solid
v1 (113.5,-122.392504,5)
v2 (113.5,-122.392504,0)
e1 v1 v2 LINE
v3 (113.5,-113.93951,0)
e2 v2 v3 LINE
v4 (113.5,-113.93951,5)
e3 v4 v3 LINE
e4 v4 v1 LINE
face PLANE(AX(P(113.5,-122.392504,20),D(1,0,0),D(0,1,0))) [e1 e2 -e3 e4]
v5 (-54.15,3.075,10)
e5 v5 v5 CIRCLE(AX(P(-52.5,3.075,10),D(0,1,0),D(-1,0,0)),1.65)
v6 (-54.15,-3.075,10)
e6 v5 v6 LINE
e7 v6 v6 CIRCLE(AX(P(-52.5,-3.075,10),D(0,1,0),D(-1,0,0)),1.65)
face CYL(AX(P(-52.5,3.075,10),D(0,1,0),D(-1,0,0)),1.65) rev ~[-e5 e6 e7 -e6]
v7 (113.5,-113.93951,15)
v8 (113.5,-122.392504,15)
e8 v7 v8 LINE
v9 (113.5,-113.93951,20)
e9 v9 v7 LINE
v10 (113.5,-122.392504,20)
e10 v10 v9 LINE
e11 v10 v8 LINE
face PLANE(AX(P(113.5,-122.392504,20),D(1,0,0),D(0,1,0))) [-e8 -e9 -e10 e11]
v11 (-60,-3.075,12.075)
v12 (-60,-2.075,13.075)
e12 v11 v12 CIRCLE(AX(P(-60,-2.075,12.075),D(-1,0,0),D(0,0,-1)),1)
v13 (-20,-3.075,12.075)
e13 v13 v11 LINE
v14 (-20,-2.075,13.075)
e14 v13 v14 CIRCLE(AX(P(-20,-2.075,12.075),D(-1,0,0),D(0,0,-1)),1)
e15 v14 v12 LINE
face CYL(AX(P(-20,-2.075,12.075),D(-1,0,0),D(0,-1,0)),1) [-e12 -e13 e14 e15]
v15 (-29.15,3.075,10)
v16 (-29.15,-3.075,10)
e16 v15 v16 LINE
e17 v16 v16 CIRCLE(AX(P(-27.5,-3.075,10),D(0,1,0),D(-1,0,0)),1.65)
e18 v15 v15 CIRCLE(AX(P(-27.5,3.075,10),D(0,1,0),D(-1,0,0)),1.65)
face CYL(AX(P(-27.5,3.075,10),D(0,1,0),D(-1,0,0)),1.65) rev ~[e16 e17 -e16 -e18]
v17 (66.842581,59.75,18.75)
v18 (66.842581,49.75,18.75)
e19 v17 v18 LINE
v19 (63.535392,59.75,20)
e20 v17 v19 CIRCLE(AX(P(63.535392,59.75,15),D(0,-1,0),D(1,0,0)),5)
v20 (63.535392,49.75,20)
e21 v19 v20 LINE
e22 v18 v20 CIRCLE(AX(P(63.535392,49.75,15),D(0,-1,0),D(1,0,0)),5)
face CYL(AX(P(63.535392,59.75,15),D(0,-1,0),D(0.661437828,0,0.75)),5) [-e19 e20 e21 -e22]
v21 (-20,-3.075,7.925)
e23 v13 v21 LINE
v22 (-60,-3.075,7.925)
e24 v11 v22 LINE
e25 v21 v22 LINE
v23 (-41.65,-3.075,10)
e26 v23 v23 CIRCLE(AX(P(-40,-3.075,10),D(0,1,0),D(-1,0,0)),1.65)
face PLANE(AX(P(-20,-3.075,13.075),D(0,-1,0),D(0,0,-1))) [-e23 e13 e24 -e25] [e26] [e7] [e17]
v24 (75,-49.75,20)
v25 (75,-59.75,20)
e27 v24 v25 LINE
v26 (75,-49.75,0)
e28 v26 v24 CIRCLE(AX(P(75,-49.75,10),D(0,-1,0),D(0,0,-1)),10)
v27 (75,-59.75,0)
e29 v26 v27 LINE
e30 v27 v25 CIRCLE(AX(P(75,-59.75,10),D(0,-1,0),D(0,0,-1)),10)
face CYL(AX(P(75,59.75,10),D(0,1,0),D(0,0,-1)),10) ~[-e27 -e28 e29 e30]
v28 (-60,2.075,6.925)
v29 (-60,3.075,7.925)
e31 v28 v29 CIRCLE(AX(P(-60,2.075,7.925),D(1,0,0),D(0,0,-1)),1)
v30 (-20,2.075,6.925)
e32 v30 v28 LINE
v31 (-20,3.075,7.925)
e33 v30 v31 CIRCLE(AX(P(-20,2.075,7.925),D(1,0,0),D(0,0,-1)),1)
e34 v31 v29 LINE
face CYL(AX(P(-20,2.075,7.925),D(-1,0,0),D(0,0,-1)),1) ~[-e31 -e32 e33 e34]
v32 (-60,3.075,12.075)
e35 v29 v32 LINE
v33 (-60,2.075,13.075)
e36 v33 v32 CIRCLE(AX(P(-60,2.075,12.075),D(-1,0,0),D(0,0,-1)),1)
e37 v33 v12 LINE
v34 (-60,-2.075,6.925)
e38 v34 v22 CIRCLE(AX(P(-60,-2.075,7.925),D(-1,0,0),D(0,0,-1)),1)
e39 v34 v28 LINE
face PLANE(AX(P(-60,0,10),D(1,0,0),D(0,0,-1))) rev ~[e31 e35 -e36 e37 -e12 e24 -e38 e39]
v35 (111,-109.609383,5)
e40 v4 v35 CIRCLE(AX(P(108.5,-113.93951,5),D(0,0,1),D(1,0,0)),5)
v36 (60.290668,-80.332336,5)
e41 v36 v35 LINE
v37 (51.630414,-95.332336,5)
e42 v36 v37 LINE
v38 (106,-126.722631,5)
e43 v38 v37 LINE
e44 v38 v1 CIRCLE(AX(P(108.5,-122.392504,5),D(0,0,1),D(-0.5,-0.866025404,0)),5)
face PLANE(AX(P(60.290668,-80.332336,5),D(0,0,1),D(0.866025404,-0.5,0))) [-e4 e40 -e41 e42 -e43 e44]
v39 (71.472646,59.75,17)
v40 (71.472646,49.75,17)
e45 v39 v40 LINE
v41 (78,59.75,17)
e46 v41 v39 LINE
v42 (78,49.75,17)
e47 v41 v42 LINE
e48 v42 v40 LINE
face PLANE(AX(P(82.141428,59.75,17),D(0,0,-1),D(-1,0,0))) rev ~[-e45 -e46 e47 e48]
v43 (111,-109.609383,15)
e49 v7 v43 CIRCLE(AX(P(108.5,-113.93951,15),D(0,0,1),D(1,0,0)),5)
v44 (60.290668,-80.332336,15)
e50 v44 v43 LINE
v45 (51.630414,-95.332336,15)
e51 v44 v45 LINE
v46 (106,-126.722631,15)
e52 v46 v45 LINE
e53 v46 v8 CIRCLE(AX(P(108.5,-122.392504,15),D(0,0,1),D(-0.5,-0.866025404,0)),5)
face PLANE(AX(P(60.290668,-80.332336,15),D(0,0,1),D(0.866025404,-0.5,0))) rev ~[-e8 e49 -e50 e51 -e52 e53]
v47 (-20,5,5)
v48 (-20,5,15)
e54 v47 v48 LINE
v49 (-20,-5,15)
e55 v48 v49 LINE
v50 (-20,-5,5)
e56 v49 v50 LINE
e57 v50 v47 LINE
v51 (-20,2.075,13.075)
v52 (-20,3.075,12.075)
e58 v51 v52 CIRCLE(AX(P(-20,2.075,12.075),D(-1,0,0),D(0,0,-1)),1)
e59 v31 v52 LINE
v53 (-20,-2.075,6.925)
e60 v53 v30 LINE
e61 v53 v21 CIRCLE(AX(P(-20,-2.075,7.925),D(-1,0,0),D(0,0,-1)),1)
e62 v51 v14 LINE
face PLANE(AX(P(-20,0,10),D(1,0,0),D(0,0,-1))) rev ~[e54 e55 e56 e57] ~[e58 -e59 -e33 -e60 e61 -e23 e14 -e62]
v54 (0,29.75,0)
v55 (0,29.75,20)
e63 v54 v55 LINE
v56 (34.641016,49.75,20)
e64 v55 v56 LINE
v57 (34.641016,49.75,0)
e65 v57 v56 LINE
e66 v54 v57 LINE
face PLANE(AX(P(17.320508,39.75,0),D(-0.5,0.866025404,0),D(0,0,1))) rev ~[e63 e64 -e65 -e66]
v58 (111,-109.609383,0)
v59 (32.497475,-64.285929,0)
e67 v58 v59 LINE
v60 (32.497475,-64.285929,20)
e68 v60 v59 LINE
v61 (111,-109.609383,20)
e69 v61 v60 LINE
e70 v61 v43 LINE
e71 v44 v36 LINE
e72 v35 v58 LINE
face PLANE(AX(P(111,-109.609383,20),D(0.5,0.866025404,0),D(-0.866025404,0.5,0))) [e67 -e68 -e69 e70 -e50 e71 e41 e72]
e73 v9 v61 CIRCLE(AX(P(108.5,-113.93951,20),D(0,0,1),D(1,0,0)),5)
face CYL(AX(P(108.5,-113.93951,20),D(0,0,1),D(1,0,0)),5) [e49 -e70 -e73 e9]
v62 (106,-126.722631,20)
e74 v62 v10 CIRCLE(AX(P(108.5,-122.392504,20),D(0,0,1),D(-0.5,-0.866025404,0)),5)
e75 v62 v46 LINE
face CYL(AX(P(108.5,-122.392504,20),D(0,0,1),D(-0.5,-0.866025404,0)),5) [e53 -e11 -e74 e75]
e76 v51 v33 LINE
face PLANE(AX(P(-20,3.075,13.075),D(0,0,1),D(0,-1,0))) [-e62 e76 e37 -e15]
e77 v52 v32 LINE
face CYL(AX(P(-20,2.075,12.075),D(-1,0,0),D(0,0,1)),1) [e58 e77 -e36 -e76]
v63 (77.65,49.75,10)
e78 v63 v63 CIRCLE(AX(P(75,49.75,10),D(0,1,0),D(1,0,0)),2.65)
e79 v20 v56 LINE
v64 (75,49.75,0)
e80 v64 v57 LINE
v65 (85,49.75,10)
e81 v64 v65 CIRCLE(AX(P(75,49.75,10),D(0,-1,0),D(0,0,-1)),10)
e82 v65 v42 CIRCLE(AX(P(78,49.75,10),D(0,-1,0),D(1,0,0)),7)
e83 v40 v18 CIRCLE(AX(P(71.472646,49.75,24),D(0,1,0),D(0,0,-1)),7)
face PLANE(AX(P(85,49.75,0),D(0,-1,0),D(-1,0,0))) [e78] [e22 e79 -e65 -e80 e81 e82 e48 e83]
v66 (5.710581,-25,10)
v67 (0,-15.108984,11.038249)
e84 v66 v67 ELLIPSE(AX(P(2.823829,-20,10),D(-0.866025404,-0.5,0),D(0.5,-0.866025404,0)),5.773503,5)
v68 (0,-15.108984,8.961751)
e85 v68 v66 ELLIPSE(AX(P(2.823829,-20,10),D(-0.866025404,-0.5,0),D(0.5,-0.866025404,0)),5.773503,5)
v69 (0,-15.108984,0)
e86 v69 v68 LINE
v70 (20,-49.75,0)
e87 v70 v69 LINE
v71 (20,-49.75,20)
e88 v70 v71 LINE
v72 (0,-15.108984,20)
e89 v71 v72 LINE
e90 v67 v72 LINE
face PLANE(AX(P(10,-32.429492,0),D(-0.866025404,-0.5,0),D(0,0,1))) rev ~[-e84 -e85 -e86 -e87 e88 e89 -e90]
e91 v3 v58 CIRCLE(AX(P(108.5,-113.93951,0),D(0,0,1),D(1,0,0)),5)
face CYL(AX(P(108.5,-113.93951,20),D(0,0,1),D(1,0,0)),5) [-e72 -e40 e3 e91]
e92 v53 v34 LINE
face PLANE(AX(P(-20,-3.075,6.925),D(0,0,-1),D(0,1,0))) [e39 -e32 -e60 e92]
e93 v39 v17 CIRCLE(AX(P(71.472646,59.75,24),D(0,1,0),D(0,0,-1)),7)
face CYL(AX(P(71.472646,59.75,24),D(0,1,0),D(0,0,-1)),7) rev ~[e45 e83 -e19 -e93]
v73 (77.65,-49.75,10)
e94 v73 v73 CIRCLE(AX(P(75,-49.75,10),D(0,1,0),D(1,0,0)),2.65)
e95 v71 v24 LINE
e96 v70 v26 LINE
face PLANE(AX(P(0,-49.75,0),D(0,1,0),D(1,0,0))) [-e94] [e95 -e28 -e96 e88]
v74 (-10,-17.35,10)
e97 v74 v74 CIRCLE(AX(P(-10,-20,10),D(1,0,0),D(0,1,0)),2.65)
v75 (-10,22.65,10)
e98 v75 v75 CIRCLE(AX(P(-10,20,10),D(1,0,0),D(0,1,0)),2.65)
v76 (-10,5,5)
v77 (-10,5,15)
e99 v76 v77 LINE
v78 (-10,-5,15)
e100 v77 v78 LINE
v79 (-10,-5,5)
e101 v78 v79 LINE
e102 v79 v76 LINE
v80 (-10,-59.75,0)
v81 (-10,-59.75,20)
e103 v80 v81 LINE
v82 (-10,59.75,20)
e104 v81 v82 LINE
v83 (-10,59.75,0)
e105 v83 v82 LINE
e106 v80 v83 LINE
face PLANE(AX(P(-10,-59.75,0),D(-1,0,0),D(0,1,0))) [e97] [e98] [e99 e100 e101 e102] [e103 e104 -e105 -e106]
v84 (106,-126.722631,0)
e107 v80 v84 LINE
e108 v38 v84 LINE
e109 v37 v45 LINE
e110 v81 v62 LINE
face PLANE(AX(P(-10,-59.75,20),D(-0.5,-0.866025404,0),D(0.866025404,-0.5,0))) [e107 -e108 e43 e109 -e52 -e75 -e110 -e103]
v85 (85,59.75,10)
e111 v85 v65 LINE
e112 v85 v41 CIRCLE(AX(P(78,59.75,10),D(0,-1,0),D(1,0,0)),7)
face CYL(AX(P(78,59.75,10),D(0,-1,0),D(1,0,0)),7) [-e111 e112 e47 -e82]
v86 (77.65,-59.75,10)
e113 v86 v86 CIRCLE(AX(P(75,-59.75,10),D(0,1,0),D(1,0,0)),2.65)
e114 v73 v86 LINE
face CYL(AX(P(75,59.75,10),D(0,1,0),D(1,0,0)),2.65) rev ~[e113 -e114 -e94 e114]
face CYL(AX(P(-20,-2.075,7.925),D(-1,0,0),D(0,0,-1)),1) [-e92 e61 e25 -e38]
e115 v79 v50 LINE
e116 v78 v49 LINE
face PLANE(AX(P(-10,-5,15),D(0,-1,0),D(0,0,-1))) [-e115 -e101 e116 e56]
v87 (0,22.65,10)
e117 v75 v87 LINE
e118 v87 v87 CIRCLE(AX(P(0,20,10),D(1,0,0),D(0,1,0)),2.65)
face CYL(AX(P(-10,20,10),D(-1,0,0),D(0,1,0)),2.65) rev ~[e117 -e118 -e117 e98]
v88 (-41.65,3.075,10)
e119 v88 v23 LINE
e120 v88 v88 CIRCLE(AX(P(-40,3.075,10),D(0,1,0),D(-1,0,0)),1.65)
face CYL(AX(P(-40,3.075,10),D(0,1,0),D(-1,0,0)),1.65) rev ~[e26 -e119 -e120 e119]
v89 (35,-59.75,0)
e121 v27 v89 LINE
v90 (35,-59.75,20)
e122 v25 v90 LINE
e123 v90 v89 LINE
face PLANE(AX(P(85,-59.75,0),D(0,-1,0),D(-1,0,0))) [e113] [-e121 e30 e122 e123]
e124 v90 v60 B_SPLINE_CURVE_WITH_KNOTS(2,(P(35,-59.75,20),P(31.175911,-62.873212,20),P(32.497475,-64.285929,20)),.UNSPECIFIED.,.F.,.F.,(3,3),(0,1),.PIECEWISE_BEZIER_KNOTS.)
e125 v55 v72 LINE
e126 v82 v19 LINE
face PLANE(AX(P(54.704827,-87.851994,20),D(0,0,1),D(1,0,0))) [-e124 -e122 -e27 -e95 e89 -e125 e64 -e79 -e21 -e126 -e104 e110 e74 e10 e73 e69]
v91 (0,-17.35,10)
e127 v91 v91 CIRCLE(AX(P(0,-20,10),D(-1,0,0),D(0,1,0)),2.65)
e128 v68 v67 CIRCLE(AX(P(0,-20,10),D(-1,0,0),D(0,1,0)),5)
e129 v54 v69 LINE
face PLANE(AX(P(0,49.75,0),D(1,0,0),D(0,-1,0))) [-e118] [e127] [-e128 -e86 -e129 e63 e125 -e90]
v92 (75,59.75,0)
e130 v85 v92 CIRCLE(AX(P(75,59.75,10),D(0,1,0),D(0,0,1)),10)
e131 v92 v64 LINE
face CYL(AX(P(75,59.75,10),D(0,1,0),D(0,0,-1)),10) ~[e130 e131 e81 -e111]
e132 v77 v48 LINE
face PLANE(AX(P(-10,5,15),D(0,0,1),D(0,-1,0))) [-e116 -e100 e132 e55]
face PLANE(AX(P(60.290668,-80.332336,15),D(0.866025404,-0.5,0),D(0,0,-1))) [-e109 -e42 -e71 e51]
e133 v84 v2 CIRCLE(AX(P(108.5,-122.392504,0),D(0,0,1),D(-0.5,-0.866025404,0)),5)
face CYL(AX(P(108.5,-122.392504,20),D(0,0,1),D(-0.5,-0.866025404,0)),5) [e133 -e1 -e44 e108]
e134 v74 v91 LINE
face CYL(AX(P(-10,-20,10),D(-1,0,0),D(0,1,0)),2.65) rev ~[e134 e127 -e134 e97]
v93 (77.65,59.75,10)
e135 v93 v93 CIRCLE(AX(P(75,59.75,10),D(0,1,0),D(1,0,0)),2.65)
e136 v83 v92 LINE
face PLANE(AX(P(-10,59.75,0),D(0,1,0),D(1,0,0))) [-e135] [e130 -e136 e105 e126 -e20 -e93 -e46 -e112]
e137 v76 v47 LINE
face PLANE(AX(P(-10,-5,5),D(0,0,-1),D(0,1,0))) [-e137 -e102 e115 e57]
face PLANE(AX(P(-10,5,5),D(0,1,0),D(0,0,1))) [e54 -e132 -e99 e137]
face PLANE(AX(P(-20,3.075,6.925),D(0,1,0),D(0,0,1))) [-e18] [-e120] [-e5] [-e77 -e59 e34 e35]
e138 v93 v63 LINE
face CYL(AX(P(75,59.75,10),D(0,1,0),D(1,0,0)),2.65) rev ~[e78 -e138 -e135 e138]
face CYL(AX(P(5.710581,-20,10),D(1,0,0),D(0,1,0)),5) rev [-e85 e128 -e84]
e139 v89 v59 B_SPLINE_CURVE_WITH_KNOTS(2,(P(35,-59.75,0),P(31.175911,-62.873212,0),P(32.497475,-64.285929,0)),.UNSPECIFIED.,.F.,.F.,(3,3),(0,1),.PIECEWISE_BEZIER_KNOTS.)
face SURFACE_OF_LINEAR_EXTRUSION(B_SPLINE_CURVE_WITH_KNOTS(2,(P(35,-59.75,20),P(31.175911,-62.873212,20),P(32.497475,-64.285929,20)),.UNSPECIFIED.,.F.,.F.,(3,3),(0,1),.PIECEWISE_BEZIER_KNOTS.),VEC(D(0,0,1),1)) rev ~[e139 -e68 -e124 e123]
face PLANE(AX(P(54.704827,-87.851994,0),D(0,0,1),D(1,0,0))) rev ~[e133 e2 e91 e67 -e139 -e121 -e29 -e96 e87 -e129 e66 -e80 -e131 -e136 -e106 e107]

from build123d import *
from OCP.BRepFilletAPI import BRepFilletAPI_MakeChamfer, BRepFilletAPI_MakeFillet

# Parameters (mm, degrees)
EXTRUDE_1_DEPTH     = 20
EXTRUDE_2_DEPTH     = 10
EXTRUDE_START       = 10
EXTRUDE_3_DEPTH     = 40
CUT_EXTRUDE_1_DEPTH = 149.00422291272636
FILLET_1_R          = 1
SKETCH_7_R          = 1.6500000000000021
SKETCH_7_R_2        = 1.6499999999999988
CUT_EXTRUDE_2_DEPTH = 108.57314081591156
CHAMFER_1_SIZE      = 20.000000000000007
CHAMFER_1_SIZE2     = 34.64101615137772
CUT_EXTRUDE_3_REACH = 150.004
FILLET_2_R1         = 5
FILLET_2_R2         = 7
CUT_EXTRUDE_4_REACH = 115.996
CUT_EXTRUDE_START   = -15.710581
CUT_EXTRUDE_5_DEPTH = 5.7105809999999995
BOSS_EXTRUDE1_DEPTH = 20.000000000000004
SKETCH4_W           = 72.89110280441945
SKETCH4_H           = 10.000000000000005
CUT_EXTRUDE1_DEPTH  = 29.000000000000004


with BuildPart() as part:
    # 草图1 → 凸台-拉伸1 (new body)
    with BuildSketch(Plane.XY):
        Polygon((-1.953e-14, 49.75), (1.093e-14, -49.75), (85.00000000000001, -49.74999999999995), (85.00000000000001, -59.74999999999995), (-9.999999999999986, -59.74999999999995), (-9.999999999999995, 59.749999999999986), (85, 59.75000000000001), (84.99999999999999, 49.75), align=None)
    extrude(amount=EXTRUDE_1_DEPTH)

    # 草图3 → 凸台-拉伸2 (add)
    # profile 1 of 2: a face of its own
    with BuildSketch(Plane.ZY.offset(9.99999999999999)):
        Polygon((15, 5.000000000000008), (15, -4.999999999999993), (5.000000000000002, -4.999999999999993), (5, 5.000000000000007), align=None)
        Polygon((6.925000000000001, 3.075000000000007), (6.925000000000002, -3.074999999999993), (13.075, -3.074999999999993), (13.075, 3.075000000000007), align=None, mode=Mode.SUBTRACT)
    # profile 2 of 2: a face of its own
    with BuildSketch(Plane.ZY.offset(9.99999999999999)):
        Polygon((6.925000000000001, 3.075000000000007), (13.075, 3.075000000000007), (13.075, -3.074999999999993), (6.925000000000002, -3.074999999999993), align=None)
    extrude(amount=EXTRUDE_2_DEPTH)

    # 草图3<3> → 凸台-拉伸3 (add)
    with BuildSketch(Plane.ZY.offset(9.99999999999999).offset(EXTRUDE_START)):
        Polygon((6.925000000000001, 3.075000000000007), (13.075, 3.075000000000007), (13.075, -3.074999999999993), (6.925000000000002, -3.074999999999993), align=None)
    extrude(amount=EXTRUDE_3_DEPTH)

    # 草图5 → 切除-拉伸1 (cut, through all)
    with BuildSketch(Plane(origin=(-1.309e-14, 59.749999999999986, 0), x_dir=(1, 2.3e-16, 0), z_dir=(-2.3e-16, 1, 0))):
        with BuildLine():
            ThreePointArc((72.34999999999964, -10), (74.99999999999964, -12.65), (77.64999999999965, -10))
            Line((77.64999999999965, -9.99999999999999), (72.34999999999964, -9.999999999999991))
        make_face()
        with BuildLine():
            Line((72.34999999999964, -9.999999999999991), (77.64999999999965, -9.99999999999999))
            ThreePointArc((77.64999999999965, -10), (74.99999999999964, -7.35), (72.34999999999964, -9.999999999999998))
        make_face()
        with BuildLine():
            Line((85.00000000000001, -20), (85.00000000000001, -9.999999999999995))
            ThreePointArc((84.99999999999964, -10.000000000000002), (82.07106781186489, -17.071067811865692), (74.99999999999903, -19.999999999999993))
            Line((74.99999999999903, -20), (85.00000000000001, -20))
        make_face()
        with BuildLine():
            ThreePointArc((74.99999999999908, -5.33e-15), (82.07106781186492, -2.928932188134328), (84.99999999999964, -10))
            Line((85.00000000000001, -9.999999999999995), (85.00000000000001, 0))
            Line((85.00000000000001, 0), (74.99999999999908, 0))
        make_face()
    extrude(amount=-CUT_EXTRUDE_1_DEPTH, mode=Mode.SUBTRACT)

    # 圆角1
    fillet_1_edges = [part.edges().sort_by_distance(p)[0] for p in [
        (-39.999999999999986, -3.0749999999999953, 6.925000000000002),
        (-39.999999999999986, -3.0749999999999953, 13.075),
        (-39.999999999999986, 3.0750000000000046, 13.075),
        (-39.999999999999986, 3.0750000000000046, 6.925000000000001),
    ]]
    fillet(fillet_1_edges, radius=FILLET_1_R)

    # 草图7 → 切除-拉伸2 (cut, through all)
    with BuildSketch(Plane(origin=(-1.6e-16, 3.0750000000000064, 0), x_dir=(1, 5e-17, 0), z_dir=(-5e-17, 1, 0))):
        with Locations(Location((-39.99999999999999, -10, 0), (0, 0, 180))):
            Circle(SKETCH_7_R)
        with Locations(Location((-52.49999999999999, -10.000000000000002, 0), (0, 0, 180))):
            Circle(SKETCH_7_R)
        with Locations(Location((-27.499999999999993, -9.999999999999998, 0), (0, 0, 180))):
            Circle(SKETCH_7_R_2)
    extrude(amount=-CUT_EXTRUDE_2_DEPTH, mode=Mode.SUBTRACT)

    # 倒角1: one chamfer whose edges measure the first distance from different faces: ONE call of the kernel's chamfer builder (chamfer() names one face for all edges)
    chamfer_1_edges_1 = [part.edges().sort_by_distance(p)[0] for p in [
        (-1.953e-14, 49.75, 10),
    ]]
    chamfer_1_side_1 = [part.faces().sort_by_distance(p)[0] for p in [
        (-4.3e-15, -1.94e-15, 10),
    ]]
    chamfer_1_edges_2 = [part.edges().sort_by_distance(p)[0] for p in [
        (1.093e-14, -49.75, 10),
    ]]
    chamfer_1_side_2 = [part.faces().sort_by_distance(p)[0] for p in [
        (41.004447540474715, -49.74999999999998, 9.99999999999999),
    ]]
    chamfer_1 = BRepFilletAPI_MakeChamfer(part.part.solid().wrapped)
    for e in chamfer_1_edges_1:
        chamfer_1.Add(CHAMFER_1_SIZE, CHAMFER_1_SIZE2, e.wrapped, chamfer_1_side_1[0].wrapped)  # the first distance lies on this face
    for e in chamfer_1_edges_2:
        chamfer_1.Add(CHAMFER_1_SIZE, CHAMFER_1_SIZE2, e.wrapped, chamfer_1_side_2[0].wrapped)  # the first distance lies on this face
    add(Compound.cast(chamfer_1.Shape()), mode=Mode.REPLACE)

    # 草图8 → 切除-拉伸3 (cut, up to next)
    with BuildSketch(Plane(origin=(-1.309e-14, 59.749999999999986, 0), x_dir=(1, 2.2e-16, 0), z_dir=(-2.2e-16, 1, 0)), mode=Mode.PRIVATE) as cut_extrude_3_sk1:
        with BuildLine():
            ThreePointArc((74.99999999999964, -20), (78.87298334620706, -19.219544457292884), (82.14142842854251, -16.99999999999999))
            Line((82.14142842854251, -16.999999999999993), (71.47264625833486, -16.999999999999993))
            ThreePointArc((71.47264625833486, -16.999999999999993), (68.23227590913093, -17.795163177004564), (65.72808361179683, -20.000000000000007))
            Line((65.72808361179683, -20), (74.99999999999964, -20))
        make_face()
    cut_extrude_3_tool1 = extrude(cut_extrude_3_sk1.sketch, amount=-CUT_EXTRUDE_3_REACH, mode=Mode.PRIVATE) & part.part
    add(cut_extrude_3_tool1.solids().sort_by_distance((73.723085, 59.75, 18.477053))[0], mode=Mode.SUBTRACT)

    # 圆角2: one fillet with a radius per group of edges: ONE call of the kernel's fillet builder (fillet() takes one radius for all edges)
    fillet_2_edges_1 = [part.edges().sort_by_distance(p)[0] for p in [
        (65.72808361179682, 54.75, 20.000000000000004),
    ]]
    fillet_2_edges_2 = [part.edges().sort_by_distance(p)[0] for p in [
        (82.1414284285425, 54.75, 16.999999999999993),
    ]]
    fillet_2 = BRepFilletAPI_MakeFillet(part.part.solid().wrapped)
    for e in fillet_2_edges_1:
        fillet_2.Add(FILLET_2_R1, e.wrapped)
    for e in fillet_2_edges_2:
        fillet_2.Add(FILLET_2_R2, e.wrapped)
    add(Compound.cast(fillet_2.Shape()), mode=Mode.REPLACE)

    # 草图10 → 切除-拉伸4 (cut, up to next)
    with BuildSketch(Plane.ZY.offset(9.99999999999999), mode=Mode.PRIVATE) as cut_extrude_4_sk1:
        with BuildLine():
            ThreePointArc((12.649999999999984, 20.00000000000003), (11.873832970144308, 21.873832970144406), (9.999999999999908, 22.650000000000027))
            Line((9.999999999999988, 22.650000000000027), (9.999999999999988, 20.00000000000003))
            Line((9.999999999999988, 20.00000000000003), (9.99999999999999, 17.35000000000003))
            ThreePointArc((9.999999999999908, 17.35000000000003), (11.873832970144308, 18.12616702985565), (12.649999999999984, 20.00000000000003))
        make_face()
    cut_extrude_4_tool1 = extrude(cut_extrude_4_sk1.sketch, amount=-CUT_EXTRUDE_4_REACH, mode=Mode.PRIVATE) & part.part
    # 草图10 → 切除-拉伸4 (cut, up to next)
    with BuildSketch(Plane.ZY.offset(9.99999999999999), mode=Mode.PRIVATE) as cut_extrude_4_sk2:
        with BuildLine():
            Line((9.999999999999988, 20.00000000000003), (9.999999999999988, 22.650000000000027))
            ThreePointArc((9.999999999999908, 22.650000000000027), (7.349999999999984, 20.00000000000003), (9.999999999999908, 17.35000000000003))
            Line((9.99999999999999, 17.35000000000003), (9.999999999999988, 20.00000000000003))
        make_face()
    cut_extrude_4_tool2 = extrude(cut_extrude_4_sk2.sketch, amount=-CUT_EXTRUDE_4_REACH, mode=Mode.PRIVATE) & part.part
    # 草图10 → 切除-拉伸4 (cut, up to next)
    with BuildSketch(Plane.ZY.offset(9.99999999999999), mode=Mode.PRIVATE) as cut_extrude_4_sk3:
        with BuildLine():
            ThreePointArc((12.649999999999984, 20.00000000000003), (11.873832970144308, 21.873832970144406), (9.999999999999908, 22.650000000000027))
            Line((9.999999999999988, 22.650000000000027), (9.999999999999988, 20.00000000000003))
            Line((9.999999999999988, 20.00000000000003), (9.99999999999999, 17.35000000000003))
            ThreePointArc((9.999999999999908, 17.35000000000003), (11.873832970144308, 18.12616702985565), (12.649999999999984, 20.00000000000003))
        make_face()
    cut_extrude_4_tool3 = extrude(cut_extrude_4_sk3.sketch, amount=-CUT_EXTRUDE_4_REACH, mode=Mode.PRIVATE) & part.part
    # 草图10 → 切除-拉伸4 (cut, up to next)
    with BuildSketch(Plane.ZY.offset(9.99999999999999), mode=Mode.PRIVATE) as cut_extrude_4_sk4:
        with BuildLine():
            Line((9.999999999999988, 20.00000000000003), (9.999999999999988, 22.650000000000027))
            ThreePointArc((9.999999999999908, 22.650000000000027), (7.349999999999984, 20.00000000000003), (9.999999999999908, 17.35000000000003))
            Line((9.99999999999999, 17.35000000000003), (9.999999999999988, 20.00000000000003))
        make_face()
    cut_extrude_4_tool4 = extrude(cut_extrude_4_sk4.sketch, amount=-CUT_EXTRUDE_4_REACH, mode=Mode.PRIVATE) & part.part
    # 草图10 → 切除-拉伸4 (cut, up to next)
    with BuildSketch(Plane.ZY.offset(9.99999999999999), mode=Mode.PRIVATE) as cut_extrude_4_sk5:
        with BuildLine():
            ThreePointArc((12.649999999999997, -19.99999999999997), (11.873832970144319, -18.12616702985559), (9.999999999999915, -17.349999999999973))
            Line((9.999999999999993, -17.349999999999966), (9.999999999999995, -19.99999999999997))
            Line((9.999999999999995, -19.99999999999997), (9.999999999999995, -22.649999999999977))
            ThreePointArc((9.999999999999917, -22.64999999999997), (11.873832970144319, -21.873832970144353), (12.649999999999997, -19.99999999999997))
        make_face()
    cut_extrude_4_tool5 = extrude(cut_extrude_4_sk5.sketch, amount=-CUT_EXTRUDE_4_REACH, mode=Mode.PRIVATE) & part.part
    # 草图10 → 切除-拉伸4 (cut, up to next)
    with BuildSketch(Plane.ZY.offset(9.99999999999999), mode=Mode.PRIVATE) as cut_extrude_4_sk6:
        with BuildLine():
            Line((9.999999999999995, -19.99999999999997), (9.999999999999993, -17.349999999999966))
            ThreePointArc((9.999999999999915, -17.349999999999973), (7.349999999999996, -19.99999999999997), (9.999999999999917, -22.64999999999997))
            Line((9.999999999999995, -22.649999999999977), (9.999999999999995, -19.99999999999997))
        make_face()
    cut_extrude_4_tool6 = extrude(cut_extrude_4_sk6.sketch, amount=-CUT_EXTRUDE_4_REACH, mode=Mode.PRIVATE) & part.part
    # 草图10 → 切除-拉伸4 (cut, up to next)
    with BuildSketch(Plane.ZY.offset(9.99999999999999), mode=Mode.PRIVATE) as cut_extrude_4_sk7:
        with BuildLine():
            ThreePointArc((12.649999999999997, -19.99999999999997), (11.873832970144319, -18.12616702985559), (9.999999999999915, -17.349999999999973))
            Line((9.999999999999993, -17.349999999999966), (9.999999999999995, -19.99999999999997))
            Line((9.999999999999995, -19.99999999999997), (9.999999999999995, -22.649999999999977))
            ThreePointArc((9.999999999999917, -22.64999999999997), (11.873832970144319, -21.873832970144353), (12.649999999999997, -19.99999999999997))
        make_face()
    cut_extrude_4_tool7 = extrude(cut_extrude_4_sk7.sketch, amount=-CUT_EXTRUDE_4_REACH, mode=Mode.PRIVATE) & part.part
    # 草图10 → 切除-拉伸4 (cut, up to next)
    with BuildSketch(Plane.ZY.offset(9.99999999999999), mode=Mode.PRIVATE) as cut_extrude_4_sk8:
        with BuildLine():
            Line((9.999999999999995, -19.99999999999997), (9.999999999999993, -17.349999999999966))
            ThreePointArc((9.999999999999915, -17.349999999999973), (7.349999999999996, -19.99999999999997), (9.999999999999917, -22.64999999999997))
            Line((9.999999999999995, -22.649999999999977), (9.999999999999995, -19.99999999999997))
        make_face()
    cut_extrude_4_tool8 = extrude(cut_extrude_4_sk8.sketch, amount=-CUT_EXTRUDE_4_REACH, mode=Mode.PRIVATE) & part.part
    add(cut_extrude_4_tool1.solids().sort_by_distance((-10, 20, 11.124695))[0], mode=Mode.SUBTRACT)
    add(cut_extrude_4_tool2.solids().sort_by_distance((-10, 20, 8.875305))[0], mode=Mode.SUBTRACT)
    add(cut_extrude_4_tool3.solids().sort_by_distance((-10, 20, 11.124695))[0], mode=Mode.SUBTRACT)
    add(cut_extrude_4_tool4.solids().sort_by_distance((-10, 20, 8.875305))[0], mode=Mode.SUBTRACT)
    add(cut_extrude_4_tool5.solids().sort_by_distance((-10, -20, 11.124695))[0], mode=Mode.SUBTRACT)
    add(cut_extrude_4_tool6.solids().sort_by_distance((-10, -20, 8.875305))[0], mode=Mode.SUBTRACT)
    add(cut_extrude_4_tool7.solids().sort_by_distance((-10, -20, 11.124695))[0], mode=Mode.SUBTRACT)
    add(cut_extrude_4_tool8.solids().sort_by_distance((-10, -20, 8.875305))[0], mode=Mode.SUBTRACT)

    # 草图10<3> → 切除-拉伸5 (cut)
    with BuildSketch(Plane.ZY.offset(9.99999999999999).offset(CUT_EXTRUDE_START)):
        with BuildLine():
            ThreePointArc((14.999999999999996, -19.99999999999997), (13.535533905932759, -16.46446609406726), (10.000000000000064, -14.999999999999972))
            Line((9.999999999999993, -14.999999999999972), (9.999999999999993, -17.349999999999966))
            ThreePointArc((9.999999999999915, -17.349999999999973), (11.873832970144319, -18.12616702985559), (12.649999999999997, -19.99999999999997))
            ThreePointArc((12.649999999999997, -19.99999999999997), (11.873832970144319, -21.873832970144353), (9.999999999999917, -22.64999999999997))
            Line((9.999999999999995, -22.649999999999977), (9.999999999999995, -24.99999999999997))
            ThreePointArc((10.000000000000057, -24.99999999999997), (13.535533905932756, -23.535533905932688), (14.999999999999996, -19.99999999999997))
        make_face()
        with BuildLine():
            Line((9.999999999999993, -17.349999999999966), (9.999999999999993, -14.999999999999972))
            ThreePointArc((10.000000000000064, -14.999999999999972), (4.999999999999996, -19.999999999999968), (10.000000000000057, -24.99999999999997))
            Line((9.999999999999995, -24.99999999999997), (9.999999999999995, -22.649999999999977))
            ThreePointArc((9.999999999999917, -22.64999999999997), (7.349999999999996, -19.99999999999997), (9.999999999999915, -17.349999999999973))
        make_face()
    extrude(amount=CUT_EXTRUDE_5_DEPTH, mode=Mode.SUBTRACT)

    # Sketch1 → Boss-Extrude1 (add)
    with BuildSketch(Plane.XY.offset(20)):
        with BuildLine():
            Line((-9.999999999999986, -59.74999999999996), (106.00000000000001, -126.7226312259967))
            ThreePointArc((106.00000000000001, -126.7226312259967), (111.00000000000001, -126.72263122599672), (113.50000000000001, -122.39250420707452))
            Line((113.50000000000001, -122.39250420707452), (113.5, -113.939509590867))
            ThreePointArc((113.5, -113.939509590867), (112.8301270189222, -111.439509590867), (111, -109.60938257194482))
            Line((111, -109.60938257194482), (32.49747535530764, -64.28592883626634))
            add(Edge.make_bspline(
                [(35.00000000000001, -59.74999999999995), (31.175910828961968, -62.87321170356669), (32.49747535530764, -64.28592883626634)],
                knots=[0, 0, 0, 1, 1, 1], degree=2))
            Line((35.00000000000001, -59.74999999999995), (-9.999999999999986, -59.74999999999996))
        make_face()
    extrude(amount=-BOSS_EXTRUDE1_DEPTH)

    # Sketch4 → Cut-Extrude1 (cut)
    with BuildSketch(Plane(origin=(-19.71225490021572, -34.14262701892212, 0), x_dir=(0.8660254037844382, -0.500000000000001, 0), z_dir=(0.5000000000000009, 0.866025403784438, 0))):
        with Locations((128.82497002974355, -10)):
            Rectangle(SKETCH4_W, SKETCH4_H)
    extrude(amount=-CUT_EXTRUDE1_DEPTH, mode=Mode.SUBTRACT)


solid = part.part
